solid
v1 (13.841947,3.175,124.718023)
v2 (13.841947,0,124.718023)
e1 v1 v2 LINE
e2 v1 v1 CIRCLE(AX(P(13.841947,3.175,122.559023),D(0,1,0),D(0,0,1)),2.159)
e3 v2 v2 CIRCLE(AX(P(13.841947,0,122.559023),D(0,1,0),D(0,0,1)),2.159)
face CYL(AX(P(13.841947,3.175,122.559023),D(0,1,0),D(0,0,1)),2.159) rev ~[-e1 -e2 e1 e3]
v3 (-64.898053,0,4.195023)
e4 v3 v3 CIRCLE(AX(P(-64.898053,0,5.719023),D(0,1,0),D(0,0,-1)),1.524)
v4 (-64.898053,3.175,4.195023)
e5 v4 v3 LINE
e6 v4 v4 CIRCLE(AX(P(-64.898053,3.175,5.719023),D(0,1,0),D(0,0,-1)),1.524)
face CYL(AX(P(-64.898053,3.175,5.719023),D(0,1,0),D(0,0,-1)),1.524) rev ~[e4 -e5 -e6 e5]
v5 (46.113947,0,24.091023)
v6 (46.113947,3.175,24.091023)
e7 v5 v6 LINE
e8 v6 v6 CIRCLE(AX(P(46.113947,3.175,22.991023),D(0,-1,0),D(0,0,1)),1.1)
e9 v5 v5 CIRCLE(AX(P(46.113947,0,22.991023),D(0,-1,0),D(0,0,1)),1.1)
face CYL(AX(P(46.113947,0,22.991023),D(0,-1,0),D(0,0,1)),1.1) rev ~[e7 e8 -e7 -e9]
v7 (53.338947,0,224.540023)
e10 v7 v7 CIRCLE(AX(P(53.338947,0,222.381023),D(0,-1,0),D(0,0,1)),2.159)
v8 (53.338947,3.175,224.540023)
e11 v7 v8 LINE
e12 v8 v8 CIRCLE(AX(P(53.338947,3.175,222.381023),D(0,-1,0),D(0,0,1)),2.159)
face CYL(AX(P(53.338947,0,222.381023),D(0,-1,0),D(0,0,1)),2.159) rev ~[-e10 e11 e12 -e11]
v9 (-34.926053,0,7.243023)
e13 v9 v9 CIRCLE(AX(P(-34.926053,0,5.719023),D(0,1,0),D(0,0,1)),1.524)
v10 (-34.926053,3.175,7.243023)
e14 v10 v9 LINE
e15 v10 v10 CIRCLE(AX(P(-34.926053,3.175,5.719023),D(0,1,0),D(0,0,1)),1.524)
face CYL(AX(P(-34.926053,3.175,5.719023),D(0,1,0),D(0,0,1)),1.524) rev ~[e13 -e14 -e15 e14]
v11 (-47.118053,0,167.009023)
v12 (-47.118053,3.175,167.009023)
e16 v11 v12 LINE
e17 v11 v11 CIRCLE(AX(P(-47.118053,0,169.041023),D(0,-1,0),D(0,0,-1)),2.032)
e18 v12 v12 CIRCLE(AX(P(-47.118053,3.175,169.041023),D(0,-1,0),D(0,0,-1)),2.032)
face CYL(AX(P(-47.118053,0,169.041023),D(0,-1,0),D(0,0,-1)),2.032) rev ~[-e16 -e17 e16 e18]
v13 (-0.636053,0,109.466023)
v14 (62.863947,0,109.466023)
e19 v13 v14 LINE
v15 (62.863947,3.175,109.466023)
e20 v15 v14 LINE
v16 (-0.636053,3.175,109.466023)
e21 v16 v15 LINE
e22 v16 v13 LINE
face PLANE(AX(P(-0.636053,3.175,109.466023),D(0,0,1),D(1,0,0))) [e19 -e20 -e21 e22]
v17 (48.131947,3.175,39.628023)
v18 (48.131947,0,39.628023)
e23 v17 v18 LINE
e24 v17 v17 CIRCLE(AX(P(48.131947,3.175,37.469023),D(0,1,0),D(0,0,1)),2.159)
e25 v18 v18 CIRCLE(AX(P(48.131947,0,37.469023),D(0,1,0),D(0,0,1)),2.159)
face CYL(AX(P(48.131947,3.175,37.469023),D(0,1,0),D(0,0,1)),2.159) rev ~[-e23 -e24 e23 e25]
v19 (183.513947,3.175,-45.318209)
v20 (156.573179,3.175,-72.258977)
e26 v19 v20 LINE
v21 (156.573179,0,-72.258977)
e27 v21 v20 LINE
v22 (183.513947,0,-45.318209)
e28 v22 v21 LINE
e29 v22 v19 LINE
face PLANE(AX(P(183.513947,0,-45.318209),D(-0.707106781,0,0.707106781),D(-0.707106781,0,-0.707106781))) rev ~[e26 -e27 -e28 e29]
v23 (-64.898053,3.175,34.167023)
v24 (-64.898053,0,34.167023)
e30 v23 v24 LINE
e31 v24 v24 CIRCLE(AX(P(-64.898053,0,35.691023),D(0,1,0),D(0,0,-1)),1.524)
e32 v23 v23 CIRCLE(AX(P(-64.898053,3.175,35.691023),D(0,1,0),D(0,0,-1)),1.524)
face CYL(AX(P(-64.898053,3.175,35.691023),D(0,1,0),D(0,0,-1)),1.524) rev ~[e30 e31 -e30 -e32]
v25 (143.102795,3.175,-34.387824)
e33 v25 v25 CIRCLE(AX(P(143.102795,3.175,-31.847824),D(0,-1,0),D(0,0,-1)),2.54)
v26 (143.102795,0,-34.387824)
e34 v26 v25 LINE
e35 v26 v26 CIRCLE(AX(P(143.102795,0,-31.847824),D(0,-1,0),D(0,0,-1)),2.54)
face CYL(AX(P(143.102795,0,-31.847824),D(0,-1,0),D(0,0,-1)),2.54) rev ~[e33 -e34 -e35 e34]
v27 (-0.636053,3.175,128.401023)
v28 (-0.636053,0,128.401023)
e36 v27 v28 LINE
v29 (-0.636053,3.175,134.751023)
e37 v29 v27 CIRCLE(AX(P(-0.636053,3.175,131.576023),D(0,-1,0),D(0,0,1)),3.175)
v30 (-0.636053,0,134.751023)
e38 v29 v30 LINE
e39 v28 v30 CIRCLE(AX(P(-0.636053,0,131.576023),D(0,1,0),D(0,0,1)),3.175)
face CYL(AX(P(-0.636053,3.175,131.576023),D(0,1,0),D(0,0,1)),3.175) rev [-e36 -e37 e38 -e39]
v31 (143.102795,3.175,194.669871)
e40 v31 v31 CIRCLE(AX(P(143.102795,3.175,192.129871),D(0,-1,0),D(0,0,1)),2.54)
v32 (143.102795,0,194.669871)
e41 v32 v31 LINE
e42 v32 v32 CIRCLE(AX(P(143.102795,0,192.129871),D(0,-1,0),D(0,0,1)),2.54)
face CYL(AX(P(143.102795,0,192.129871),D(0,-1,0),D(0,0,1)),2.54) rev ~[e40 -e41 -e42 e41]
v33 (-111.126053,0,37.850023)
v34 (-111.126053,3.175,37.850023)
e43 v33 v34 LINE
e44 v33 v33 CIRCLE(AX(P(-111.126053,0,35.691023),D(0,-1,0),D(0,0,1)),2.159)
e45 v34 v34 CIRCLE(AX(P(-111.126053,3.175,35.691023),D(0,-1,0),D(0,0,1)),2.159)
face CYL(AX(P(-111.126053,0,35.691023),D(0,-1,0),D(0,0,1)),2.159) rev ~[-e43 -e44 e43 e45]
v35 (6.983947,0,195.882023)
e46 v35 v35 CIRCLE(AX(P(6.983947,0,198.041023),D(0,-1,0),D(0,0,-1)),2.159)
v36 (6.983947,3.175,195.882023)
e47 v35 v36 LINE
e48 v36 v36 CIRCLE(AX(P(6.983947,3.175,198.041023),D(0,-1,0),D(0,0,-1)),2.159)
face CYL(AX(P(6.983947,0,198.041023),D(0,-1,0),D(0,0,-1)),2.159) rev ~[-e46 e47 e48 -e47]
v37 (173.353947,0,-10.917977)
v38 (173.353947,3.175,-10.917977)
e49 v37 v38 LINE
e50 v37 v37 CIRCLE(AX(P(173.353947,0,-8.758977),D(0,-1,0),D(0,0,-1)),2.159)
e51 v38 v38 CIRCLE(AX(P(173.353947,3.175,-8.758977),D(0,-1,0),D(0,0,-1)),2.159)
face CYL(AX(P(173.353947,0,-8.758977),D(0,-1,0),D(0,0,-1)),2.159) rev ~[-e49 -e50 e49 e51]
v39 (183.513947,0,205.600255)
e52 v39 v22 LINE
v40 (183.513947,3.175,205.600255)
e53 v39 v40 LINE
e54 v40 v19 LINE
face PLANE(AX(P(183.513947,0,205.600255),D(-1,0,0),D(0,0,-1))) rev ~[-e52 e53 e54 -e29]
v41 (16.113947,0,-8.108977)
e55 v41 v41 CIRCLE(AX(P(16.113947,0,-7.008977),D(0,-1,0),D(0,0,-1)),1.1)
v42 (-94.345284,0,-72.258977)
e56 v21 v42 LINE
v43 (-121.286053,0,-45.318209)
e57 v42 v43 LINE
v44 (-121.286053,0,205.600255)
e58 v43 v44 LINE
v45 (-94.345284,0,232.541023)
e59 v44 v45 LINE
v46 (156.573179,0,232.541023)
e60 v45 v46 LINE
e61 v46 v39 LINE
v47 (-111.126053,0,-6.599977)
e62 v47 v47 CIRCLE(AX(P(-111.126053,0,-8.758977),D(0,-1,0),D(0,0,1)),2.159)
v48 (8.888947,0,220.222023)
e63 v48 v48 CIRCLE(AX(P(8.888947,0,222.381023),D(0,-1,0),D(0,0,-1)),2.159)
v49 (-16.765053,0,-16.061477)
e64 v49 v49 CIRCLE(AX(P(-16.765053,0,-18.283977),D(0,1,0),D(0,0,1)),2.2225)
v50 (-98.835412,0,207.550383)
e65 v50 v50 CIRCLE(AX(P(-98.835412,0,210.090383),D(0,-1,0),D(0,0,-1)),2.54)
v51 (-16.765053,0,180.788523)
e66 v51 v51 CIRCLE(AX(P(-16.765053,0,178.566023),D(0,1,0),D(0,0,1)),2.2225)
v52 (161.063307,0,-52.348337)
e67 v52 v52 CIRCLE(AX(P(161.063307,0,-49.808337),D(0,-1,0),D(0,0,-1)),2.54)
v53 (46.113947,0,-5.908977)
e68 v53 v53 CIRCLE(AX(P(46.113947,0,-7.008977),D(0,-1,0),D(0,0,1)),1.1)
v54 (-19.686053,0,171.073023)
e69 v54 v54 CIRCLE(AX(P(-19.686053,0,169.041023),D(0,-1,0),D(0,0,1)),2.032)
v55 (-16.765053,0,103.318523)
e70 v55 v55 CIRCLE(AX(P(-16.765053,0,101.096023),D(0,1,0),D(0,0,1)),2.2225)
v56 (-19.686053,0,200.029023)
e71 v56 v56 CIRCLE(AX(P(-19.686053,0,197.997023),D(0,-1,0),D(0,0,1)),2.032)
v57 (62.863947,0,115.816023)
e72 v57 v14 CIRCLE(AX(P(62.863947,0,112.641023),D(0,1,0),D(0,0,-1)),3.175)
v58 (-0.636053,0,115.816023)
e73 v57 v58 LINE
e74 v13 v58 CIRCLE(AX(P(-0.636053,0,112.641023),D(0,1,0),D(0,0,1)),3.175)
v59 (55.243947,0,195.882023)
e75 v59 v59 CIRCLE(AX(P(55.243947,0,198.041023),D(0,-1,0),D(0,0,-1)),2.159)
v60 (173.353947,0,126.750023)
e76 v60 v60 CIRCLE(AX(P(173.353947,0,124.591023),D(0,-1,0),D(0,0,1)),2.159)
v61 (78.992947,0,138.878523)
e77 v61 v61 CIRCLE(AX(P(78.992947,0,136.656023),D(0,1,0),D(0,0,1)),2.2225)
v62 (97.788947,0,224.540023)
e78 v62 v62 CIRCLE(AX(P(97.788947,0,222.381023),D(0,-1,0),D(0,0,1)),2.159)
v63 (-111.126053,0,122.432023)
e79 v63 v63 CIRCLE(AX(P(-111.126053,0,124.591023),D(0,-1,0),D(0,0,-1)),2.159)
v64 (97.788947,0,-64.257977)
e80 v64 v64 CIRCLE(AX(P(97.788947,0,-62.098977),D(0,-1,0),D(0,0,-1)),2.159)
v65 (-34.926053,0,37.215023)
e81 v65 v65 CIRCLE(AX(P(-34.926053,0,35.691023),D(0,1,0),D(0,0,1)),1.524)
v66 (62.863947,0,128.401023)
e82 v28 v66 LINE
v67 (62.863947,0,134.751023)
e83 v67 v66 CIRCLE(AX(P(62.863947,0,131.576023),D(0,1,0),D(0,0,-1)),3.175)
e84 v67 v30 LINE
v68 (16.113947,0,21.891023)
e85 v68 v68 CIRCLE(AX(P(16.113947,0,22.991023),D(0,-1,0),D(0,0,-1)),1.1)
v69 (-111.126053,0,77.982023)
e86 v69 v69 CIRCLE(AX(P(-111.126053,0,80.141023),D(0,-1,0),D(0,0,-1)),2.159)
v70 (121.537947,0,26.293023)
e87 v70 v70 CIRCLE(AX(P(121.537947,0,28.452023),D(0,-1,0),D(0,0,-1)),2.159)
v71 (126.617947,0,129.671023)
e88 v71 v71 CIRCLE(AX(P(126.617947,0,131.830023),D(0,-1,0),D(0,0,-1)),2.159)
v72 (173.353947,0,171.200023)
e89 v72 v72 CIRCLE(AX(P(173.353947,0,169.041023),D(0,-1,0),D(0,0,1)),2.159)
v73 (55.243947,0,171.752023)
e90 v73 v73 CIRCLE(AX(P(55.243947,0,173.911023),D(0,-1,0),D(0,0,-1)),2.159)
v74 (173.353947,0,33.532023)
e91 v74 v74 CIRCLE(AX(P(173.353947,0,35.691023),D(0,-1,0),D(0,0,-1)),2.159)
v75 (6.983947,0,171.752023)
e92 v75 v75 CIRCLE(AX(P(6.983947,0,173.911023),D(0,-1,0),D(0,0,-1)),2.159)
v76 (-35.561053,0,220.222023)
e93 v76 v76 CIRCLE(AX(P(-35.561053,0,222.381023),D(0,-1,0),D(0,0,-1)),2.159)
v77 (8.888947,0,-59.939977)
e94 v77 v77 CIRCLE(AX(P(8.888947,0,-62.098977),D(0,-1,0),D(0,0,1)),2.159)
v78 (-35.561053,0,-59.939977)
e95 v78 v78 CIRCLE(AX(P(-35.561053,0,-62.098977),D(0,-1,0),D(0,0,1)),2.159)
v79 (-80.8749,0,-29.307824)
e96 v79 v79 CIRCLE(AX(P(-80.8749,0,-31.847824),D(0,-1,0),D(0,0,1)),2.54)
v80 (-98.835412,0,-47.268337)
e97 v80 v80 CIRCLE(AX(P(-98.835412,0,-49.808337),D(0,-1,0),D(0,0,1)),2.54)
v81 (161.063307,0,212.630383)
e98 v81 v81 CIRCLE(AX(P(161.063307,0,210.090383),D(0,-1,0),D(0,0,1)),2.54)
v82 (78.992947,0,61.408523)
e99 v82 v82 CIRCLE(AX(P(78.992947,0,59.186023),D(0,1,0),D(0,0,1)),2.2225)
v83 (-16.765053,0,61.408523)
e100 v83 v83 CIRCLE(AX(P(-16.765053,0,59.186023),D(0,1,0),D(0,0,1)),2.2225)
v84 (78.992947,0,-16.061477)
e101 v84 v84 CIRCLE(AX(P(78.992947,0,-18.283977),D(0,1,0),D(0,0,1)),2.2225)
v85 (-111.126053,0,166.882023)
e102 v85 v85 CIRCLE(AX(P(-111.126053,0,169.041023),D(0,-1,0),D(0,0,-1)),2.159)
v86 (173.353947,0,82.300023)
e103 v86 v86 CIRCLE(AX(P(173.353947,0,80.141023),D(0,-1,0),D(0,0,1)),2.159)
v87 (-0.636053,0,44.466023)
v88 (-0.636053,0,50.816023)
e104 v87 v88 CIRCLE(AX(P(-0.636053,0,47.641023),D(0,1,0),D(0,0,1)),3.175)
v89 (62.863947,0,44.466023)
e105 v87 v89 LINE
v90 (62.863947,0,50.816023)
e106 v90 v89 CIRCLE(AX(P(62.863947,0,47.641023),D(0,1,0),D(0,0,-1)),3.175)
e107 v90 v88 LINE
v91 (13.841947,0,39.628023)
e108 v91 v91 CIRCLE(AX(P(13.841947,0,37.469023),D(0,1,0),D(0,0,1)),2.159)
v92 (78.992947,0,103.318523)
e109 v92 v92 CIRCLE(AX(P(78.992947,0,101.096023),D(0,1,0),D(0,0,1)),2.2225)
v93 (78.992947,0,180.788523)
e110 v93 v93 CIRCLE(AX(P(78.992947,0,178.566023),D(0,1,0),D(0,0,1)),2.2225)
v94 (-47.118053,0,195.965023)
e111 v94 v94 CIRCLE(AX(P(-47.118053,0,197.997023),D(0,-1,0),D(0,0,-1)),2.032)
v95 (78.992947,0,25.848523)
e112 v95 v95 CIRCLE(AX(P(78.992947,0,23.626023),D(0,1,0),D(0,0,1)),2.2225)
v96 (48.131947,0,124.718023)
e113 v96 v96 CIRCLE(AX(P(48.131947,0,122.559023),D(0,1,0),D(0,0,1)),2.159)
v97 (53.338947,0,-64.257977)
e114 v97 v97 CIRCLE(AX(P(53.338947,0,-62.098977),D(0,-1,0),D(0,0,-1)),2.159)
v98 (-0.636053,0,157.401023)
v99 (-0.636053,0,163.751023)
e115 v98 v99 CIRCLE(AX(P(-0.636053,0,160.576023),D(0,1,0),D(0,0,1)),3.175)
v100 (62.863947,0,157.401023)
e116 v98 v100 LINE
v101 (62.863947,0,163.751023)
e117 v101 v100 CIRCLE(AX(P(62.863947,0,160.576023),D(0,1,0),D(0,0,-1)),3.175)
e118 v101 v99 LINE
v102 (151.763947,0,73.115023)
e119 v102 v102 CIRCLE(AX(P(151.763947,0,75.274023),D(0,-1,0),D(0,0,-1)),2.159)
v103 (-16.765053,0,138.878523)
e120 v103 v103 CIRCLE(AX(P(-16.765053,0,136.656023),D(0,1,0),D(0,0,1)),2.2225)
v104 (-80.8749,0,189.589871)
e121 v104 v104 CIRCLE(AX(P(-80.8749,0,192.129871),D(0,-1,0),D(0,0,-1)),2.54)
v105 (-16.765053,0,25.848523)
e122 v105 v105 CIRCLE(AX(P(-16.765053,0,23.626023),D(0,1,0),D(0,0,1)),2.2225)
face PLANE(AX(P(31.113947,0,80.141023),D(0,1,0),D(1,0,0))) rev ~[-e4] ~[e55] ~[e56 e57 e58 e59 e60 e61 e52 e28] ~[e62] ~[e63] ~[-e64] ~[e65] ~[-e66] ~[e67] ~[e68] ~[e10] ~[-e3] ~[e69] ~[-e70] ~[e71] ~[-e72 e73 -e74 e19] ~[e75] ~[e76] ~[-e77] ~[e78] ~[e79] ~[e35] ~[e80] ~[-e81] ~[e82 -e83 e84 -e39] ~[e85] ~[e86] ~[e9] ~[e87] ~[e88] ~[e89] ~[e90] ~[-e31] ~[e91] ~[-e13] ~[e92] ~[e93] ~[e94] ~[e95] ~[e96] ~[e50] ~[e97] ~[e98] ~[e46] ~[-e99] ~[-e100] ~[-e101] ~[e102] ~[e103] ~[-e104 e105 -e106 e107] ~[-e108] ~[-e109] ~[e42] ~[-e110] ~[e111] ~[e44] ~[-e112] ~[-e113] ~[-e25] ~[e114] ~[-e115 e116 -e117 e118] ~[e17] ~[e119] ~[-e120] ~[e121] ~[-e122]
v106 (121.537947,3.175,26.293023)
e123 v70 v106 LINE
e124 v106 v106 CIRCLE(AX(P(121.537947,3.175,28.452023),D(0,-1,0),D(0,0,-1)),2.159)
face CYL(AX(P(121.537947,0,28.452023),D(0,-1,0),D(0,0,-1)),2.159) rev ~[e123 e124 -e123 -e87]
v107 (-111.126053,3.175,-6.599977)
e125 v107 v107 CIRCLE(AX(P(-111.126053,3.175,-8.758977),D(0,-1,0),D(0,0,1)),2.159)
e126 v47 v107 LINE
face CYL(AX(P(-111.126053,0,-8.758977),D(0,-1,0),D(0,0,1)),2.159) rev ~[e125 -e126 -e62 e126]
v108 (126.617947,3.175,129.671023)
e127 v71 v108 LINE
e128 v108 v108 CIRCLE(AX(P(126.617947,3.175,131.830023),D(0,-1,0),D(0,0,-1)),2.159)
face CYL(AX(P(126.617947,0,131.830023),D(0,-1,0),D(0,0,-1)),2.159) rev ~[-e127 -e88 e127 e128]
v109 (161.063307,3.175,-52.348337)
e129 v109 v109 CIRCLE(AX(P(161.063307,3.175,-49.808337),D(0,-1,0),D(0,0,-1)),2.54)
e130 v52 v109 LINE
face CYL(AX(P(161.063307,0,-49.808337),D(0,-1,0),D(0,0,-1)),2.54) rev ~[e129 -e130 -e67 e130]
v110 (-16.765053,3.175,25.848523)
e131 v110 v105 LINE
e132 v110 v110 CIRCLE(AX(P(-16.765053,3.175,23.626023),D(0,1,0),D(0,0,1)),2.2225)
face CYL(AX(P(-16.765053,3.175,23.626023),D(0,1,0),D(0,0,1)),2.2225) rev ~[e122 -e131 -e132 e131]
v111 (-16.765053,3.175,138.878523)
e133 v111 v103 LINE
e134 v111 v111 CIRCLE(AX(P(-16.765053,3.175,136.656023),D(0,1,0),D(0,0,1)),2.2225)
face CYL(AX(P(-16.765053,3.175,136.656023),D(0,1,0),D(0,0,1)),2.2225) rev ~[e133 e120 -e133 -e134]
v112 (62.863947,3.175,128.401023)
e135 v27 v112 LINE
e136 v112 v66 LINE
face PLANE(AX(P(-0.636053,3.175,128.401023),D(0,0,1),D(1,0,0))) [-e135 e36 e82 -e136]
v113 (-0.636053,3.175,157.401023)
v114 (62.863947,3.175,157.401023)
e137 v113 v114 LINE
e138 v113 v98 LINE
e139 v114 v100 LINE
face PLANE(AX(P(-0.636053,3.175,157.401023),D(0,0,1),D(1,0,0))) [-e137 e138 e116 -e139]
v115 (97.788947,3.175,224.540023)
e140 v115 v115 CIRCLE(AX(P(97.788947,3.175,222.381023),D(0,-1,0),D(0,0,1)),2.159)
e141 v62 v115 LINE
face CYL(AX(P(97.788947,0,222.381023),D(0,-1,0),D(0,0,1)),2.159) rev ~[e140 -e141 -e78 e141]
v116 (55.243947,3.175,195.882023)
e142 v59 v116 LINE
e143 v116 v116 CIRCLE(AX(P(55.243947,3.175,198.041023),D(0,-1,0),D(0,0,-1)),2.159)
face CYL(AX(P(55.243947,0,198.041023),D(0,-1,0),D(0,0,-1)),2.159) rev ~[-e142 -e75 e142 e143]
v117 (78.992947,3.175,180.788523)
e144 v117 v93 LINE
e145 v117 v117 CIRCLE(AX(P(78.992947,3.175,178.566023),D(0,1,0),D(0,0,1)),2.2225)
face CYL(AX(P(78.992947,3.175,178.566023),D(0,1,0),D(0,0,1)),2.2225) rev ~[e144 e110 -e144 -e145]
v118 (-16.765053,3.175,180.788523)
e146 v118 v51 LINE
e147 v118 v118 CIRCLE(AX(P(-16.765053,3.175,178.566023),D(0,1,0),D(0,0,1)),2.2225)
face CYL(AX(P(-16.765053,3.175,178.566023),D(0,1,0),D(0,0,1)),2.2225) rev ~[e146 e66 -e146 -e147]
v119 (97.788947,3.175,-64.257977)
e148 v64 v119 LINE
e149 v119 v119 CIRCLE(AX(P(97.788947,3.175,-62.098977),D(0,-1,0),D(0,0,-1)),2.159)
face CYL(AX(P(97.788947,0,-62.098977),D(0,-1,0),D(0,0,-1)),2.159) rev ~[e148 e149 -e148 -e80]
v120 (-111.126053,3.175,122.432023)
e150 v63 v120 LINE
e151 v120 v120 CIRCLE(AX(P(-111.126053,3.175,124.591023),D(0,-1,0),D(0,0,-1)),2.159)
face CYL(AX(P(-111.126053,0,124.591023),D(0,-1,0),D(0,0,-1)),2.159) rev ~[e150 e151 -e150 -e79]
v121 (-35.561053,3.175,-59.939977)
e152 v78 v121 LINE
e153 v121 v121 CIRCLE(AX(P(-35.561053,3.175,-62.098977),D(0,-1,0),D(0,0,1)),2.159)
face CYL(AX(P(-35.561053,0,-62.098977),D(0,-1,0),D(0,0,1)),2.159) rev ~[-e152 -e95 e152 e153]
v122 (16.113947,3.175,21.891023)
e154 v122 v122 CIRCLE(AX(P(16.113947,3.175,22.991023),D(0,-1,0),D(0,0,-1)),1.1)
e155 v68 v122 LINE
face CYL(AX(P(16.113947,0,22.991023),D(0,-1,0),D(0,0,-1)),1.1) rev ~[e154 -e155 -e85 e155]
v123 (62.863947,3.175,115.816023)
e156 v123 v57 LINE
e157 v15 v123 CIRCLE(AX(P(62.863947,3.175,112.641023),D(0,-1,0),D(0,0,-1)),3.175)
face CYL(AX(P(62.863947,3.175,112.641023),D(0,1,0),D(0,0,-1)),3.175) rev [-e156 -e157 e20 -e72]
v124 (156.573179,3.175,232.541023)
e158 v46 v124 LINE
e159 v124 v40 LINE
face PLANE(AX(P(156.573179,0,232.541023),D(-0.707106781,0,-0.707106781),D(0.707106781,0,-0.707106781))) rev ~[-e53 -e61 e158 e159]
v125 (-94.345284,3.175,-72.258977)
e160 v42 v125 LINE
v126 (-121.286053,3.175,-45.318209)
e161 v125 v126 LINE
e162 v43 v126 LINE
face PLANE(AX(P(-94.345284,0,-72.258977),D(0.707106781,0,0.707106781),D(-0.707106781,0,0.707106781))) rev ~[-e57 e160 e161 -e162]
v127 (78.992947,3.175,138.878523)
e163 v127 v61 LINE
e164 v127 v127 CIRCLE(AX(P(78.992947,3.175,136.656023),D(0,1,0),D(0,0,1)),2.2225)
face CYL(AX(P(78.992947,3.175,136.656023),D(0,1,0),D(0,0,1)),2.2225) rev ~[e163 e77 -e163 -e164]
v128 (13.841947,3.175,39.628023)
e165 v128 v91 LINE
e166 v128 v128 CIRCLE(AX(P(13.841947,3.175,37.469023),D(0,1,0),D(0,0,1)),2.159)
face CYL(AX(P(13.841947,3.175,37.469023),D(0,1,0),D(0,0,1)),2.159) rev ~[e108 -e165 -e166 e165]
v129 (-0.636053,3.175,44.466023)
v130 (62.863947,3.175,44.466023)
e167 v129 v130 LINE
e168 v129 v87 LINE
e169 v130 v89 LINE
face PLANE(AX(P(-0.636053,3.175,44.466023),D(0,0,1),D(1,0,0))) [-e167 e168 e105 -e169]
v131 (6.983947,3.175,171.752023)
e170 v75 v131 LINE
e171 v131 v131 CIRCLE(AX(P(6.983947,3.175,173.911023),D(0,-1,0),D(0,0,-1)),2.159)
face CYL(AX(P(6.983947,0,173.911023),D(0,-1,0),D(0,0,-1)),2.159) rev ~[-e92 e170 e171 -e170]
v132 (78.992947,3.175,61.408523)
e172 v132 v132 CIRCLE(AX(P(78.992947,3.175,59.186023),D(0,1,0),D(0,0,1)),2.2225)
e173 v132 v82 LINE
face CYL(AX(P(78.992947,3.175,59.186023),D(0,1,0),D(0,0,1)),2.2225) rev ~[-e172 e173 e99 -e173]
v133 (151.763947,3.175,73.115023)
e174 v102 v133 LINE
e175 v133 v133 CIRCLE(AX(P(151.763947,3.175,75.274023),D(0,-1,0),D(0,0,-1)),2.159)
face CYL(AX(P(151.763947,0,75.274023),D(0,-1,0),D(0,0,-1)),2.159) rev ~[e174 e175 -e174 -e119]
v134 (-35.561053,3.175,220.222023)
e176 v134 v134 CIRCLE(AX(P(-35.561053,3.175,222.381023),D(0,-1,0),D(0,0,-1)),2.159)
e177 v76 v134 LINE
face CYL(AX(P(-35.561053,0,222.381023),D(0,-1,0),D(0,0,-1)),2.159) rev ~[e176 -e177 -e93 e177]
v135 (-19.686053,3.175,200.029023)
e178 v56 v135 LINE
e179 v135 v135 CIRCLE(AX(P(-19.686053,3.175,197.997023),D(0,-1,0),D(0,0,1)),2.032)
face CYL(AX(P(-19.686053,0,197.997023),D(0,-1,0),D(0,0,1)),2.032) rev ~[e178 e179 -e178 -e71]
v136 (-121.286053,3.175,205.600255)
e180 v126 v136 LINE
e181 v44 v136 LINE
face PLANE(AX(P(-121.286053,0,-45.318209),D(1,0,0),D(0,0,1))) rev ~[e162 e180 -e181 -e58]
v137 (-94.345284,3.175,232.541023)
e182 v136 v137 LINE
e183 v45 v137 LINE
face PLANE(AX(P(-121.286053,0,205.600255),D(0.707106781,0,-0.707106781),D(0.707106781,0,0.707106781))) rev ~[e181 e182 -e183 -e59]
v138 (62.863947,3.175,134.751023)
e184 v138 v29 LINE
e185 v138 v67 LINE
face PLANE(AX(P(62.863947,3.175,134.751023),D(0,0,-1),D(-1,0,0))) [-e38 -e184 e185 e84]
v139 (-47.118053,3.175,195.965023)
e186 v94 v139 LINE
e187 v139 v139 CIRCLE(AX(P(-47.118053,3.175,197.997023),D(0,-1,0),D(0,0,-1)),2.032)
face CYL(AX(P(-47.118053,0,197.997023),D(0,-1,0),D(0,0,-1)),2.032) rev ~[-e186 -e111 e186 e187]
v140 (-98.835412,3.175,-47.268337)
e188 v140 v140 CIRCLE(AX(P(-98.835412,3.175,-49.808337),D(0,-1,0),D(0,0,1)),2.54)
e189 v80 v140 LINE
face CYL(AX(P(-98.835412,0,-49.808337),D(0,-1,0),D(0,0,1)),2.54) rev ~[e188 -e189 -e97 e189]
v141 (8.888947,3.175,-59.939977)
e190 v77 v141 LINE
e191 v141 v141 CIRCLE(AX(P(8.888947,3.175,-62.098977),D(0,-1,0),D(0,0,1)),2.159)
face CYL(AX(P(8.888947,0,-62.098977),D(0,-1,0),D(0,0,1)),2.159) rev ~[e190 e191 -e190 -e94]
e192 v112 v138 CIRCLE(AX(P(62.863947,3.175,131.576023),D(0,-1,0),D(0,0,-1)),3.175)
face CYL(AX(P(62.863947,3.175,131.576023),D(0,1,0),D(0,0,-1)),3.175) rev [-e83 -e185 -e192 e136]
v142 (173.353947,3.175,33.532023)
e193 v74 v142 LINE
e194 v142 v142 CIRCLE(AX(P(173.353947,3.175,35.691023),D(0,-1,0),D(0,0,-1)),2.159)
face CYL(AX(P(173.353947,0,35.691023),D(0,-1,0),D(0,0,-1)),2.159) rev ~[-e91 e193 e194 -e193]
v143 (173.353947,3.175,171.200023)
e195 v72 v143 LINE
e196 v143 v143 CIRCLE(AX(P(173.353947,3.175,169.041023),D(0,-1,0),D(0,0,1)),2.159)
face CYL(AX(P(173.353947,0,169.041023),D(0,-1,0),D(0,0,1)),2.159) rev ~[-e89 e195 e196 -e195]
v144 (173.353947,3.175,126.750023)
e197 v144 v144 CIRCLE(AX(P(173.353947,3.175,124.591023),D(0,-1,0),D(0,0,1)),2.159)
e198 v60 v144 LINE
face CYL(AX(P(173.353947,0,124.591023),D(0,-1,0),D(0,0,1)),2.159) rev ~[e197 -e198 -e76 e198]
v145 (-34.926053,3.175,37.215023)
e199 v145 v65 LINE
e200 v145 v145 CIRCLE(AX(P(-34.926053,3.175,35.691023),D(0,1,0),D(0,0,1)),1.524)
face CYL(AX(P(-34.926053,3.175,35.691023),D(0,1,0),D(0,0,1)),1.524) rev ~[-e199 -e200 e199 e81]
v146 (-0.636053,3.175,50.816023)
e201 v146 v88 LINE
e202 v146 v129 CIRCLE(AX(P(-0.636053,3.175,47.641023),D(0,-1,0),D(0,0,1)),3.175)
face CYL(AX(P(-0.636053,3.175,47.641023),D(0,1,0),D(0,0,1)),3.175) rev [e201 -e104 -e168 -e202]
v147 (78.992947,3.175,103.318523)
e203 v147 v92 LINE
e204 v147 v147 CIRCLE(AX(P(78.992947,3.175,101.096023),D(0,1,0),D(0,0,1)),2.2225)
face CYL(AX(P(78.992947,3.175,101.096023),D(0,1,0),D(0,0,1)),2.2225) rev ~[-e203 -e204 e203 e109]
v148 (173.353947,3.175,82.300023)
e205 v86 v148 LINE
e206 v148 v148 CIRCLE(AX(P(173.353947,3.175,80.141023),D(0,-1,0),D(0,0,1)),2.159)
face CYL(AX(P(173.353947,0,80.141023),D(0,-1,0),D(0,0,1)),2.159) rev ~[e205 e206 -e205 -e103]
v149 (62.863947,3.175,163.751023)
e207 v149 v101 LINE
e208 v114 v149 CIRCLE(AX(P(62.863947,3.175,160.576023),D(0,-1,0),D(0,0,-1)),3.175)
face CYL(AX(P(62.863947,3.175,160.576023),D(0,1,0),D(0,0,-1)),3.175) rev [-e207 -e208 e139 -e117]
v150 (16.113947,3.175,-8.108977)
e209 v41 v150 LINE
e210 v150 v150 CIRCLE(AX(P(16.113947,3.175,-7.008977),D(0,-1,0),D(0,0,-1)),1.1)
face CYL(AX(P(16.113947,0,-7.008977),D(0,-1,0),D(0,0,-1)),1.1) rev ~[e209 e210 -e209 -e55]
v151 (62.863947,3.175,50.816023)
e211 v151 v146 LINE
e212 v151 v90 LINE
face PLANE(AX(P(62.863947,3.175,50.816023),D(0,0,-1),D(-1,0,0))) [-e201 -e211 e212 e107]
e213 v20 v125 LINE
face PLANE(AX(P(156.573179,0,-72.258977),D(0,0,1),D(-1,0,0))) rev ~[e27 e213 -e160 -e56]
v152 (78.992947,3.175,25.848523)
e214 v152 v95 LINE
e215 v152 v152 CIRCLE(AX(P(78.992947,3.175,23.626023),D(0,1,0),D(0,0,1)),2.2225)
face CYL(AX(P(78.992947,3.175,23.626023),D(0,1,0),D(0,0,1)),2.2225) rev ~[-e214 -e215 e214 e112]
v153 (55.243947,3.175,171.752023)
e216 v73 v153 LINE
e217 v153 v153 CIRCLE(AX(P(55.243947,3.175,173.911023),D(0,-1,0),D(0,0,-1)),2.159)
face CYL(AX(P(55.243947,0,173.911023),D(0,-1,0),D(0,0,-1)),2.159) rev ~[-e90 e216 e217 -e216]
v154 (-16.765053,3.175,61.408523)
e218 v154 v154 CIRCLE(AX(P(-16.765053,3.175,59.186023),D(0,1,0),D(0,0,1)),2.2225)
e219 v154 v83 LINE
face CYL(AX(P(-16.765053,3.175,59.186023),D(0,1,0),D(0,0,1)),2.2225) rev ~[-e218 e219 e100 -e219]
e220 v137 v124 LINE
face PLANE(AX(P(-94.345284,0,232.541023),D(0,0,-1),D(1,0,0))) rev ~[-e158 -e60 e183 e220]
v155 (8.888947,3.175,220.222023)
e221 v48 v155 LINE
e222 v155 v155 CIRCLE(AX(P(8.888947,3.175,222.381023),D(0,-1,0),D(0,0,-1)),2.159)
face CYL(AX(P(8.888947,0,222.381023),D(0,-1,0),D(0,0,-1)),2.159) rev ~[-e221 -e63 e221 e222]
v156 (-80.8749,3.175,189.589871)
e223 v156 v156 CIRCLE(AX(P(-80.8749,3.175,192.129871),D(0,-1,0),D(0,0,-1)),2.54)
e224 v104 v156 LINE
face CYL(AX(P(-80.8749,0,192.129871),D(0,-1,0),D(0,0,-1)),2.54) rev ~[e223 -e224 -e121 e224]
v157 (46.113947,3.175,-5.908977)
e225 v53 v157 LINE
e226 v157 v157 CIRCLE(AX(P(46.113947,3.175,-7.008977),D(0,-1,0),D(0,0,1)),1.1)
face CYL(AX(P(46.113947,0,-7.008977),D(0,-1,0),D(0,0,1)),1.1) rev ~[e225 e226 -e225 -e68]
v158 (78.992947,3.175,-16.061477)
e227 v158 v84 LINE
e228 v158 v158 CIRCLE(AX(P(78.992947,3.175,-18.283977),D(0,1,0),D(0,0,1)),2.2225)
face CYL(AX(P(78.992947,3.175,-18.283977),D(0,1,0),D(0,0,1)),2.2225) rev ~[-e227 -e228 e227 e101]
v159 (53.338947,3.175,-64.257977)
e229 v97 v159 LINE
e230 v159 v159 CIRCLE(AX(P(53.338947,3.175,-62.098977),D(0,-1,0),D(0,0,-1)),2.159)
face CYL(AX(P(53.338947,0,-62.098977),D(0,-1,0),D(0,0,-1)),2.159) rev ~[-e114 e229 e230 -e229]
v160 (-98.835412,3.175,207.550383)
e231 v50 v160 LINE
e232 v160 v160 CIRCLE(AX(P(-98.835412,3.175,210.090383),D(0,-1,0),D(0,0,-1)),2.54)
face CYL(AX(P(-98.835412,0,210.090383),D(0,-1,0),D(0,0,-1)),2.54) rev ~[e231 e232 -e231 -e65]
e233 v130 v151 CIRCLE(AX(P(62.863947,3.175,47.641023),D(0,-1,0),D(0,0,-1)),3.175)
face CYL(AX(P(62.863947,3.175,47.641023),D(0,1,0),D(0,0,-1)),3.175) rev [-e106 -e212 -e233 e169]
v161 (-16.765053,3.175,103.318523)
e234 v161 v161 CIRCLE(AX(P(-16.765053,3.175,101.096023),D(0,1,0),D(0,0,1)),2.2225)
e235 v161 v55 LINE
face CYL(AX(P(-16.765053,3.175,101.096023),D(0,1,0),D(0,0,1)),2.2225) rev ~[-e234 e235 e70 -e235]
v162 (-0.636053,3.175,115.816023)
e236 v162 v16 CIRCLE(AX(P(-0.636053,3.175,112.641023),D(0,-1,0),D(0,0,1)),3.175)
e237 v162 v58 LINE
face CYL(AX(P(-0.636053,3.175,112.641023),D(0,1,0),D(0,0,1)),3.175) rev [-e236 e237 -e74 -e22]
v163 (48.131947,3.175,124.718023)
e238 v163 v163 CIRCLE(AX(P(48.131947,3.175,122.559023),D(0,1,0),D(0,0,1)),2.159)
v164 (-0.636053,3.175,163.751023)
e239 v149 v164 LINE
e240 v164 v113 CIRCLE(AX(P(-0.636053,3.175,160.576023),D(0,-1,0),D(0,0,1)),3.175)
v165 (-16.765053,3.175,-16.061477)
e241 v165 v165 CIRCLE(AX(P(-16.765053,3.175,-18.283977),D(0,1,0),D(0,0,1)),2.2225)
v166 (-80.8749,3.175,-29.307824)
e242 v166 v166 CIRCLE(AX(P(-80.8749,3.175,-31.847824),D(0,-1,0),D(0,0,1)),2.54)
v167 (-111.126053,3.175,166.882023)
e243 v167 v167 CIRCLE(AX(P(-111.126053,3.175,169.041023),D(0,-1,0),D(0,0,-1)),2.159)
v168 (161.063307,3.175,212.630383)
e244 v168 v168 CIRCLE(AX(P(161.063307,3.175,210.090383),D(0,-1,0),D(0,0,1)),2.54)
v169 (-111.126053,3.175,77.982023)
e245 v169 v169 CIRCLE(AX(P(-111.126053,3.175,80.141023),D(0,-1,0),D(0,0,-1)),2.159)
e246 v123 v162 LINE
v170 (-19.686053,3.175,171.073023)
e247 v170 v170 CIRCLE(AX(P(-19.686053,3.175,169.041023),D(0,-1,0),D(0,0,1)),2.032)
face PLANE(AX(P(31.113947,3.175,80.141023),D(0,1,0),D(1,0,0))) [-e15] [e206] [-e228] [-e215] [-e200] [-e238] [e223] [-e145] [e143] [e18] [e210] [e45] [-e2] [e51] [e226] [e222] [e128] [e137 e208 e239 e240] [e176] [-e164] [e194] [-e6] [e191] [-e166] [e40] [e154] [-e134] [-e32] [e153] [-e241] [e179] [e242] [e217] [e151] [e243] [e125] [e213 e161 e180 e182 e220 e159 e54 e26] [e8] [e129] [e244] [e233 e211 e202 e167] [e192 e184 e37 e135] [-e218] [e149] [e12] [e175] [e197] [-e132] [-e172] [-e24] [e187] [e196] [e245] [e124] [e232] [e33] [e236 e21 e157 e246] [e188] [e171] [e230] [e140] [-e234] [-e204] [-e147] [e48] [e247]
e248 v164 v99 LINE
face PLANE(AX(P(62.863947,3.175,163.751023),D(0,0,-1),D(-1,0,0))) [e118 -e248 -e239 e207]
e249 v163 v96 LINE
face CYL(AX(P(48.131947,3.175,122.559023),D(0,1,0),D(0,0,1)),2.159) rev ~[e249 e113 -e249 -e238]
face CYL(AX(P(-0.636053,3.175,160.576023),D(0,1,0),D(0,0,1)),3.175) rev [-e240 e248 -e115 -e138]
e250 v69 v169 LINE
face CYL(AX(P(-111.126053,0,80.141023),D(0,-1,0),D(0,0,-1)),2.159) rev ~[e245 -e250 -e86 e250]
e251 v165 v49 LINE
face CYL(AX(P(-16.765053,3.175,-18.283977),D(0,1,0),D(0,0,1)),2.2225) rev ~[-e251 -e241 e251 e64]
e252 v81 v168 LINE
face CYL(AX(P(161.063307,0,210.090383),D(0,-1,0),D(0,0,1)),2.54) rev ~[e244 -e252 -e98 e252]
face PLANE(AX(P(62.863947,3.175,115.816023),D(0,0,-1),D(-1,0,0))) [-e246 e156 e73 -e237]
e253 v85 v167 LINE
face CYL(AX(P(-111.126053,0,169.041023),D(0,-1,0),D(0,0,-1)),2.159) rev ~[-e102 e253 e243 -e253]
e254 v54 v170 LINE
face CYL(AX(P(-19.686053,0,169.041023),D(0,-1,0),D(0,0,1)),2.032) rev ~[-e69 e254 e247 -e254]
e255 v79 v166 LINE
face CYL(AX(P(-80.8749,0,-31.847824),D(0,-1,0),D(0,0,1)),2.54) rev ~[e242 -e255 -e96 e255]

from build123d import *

# Parameters (mm, degrees)
BOSS_EXTRUDE1_DEPTH = 3.175
SKETCH2_R           = 2.159
CUT_EXTRUDE1_DEPTH  = 297.247830215
CUT_EXTRUDE2_DEPTH  = 297.247830215
SKETCH7_R           = 1.524
CUT_EXTRUDE3_DEPTH  = 297.247830215
SKETCH10_R          = 2.159
CUT_EXTRUDE6_DEPTH  = 297.247830215
SKETCH9_R           = 2.032
CUT_EXTRUDE5_DEPTH  = 297.247830215
SKETCH13_R          = 1.1
CUT_EXTRUDE8_DEPTH  = 297.247830215
SKETCH14_R          = 2.54
CUT_EXTRUDE9_DEPTH  = 297.247830215
SKETCH15_R          = 2.159
CUT_EXTRUDE10_DEPTH = 297.247830215
SKETCH16_R          = 2.159
CUT_EXTRUDE11_DEPTH = 297.247830215
SKETCH17_R          = 2.2225
CUT_EXTRUDE13_DEPTH = 297.247830215


with BuildPart() as part:
    # Sketch1 → Boss-Extrude1 (new body)
    with BuildSketch(Plane(origin=(0, 0, 0), x_dir=(1, 0, 0), z_dir=(0, 1, 0))):
        Polygon((-94.345284264, 72.258976948), (-121.286052627, 45.318208585), (-121.286052627, -205.600254688), (-94.345284264, -232.541023052), (156.573179009, -232.541023052), (183.513947373, -205.600254688), (183.513947373, 45.318208585), (156.573179009, 72.258976948), align=None)
    extrude(amount=BOSS_EXTRUDE1_DEPTH)

    # Sketch2 → Cut-Extrude1 (cut, through all)
    with BuildSketch(Plane(origin=(0, 3.175, 0), x_dir=(1, 0, 0), z_dir=(0, 1, 0))):
        with Locations(Location((13.841947373, -37.469023052, 0), (0, 0, 270))):
            Circle(SKETCH2_R)
        with Locations(Location((48.131947373, -37.469023052, 0), (0, 0, 270))):
            Circle(SKETCH2_R)
        with Locations(Location((13.841947373, -122.559023052, 0), (0, 0, 270))):
            Circle(SKETCH2_R)
        with Locations(Location((48.131947373, -122.559023052, 0), (0, 0, 270))):
            Circle(SKETCH2_R)
    extrude(amount=-CUT_EXTRUDE1_DEPTH, mode=Mode.SUBTRACT)

    # Sketch4 → Cut-Extrude2 (cut, through all)
    with BuildSketch(Plane(origin=(0, 3.175, 0), x_dir=(1, 0, 0), z_dir=(0, 1, 0))):
        with BuildLine():
            Line((-0.636052627, -44.466023052), (62.863947373, -44.466023052))
            ThreePointArc((62.863947373, -44.466023052), (66.038947373, -47.641023052), (62.863947373, -50.816023052))
            Line((62.863947373, -50.816023052), (-0.636052627, -50.816023052))
            ThreePointArc((-0.636052627, -50.816023052), (-3.811052627, -47.641023052), (-0.636052627, -44.466023052))
        make_face()
        with BuildLine():
            Line((-0.636052627, -109.466023052), (62.863947373, -109.466023052))
            ThreePointArc((62.863947373, -109.466023052), (66.038947373, -112.641023052), (62.863947373, -115.816023052))
            Line((62.863947373, -115.816023052), (-0.636052627, -115.816023052))
            ThreePointArc((-0.636052627, -115.816023052), (-3.811052627, -112.641023052), (-0.636052627, -109.466023052))
        make_face()
        with BuildLine():
            Line((-0.636052627, -128.401023052), (62.863947373, -128.401023052))
            ThreePointArc((62.863947373, -128.401023052), (66.038947373, -131.576023052), (62.863947373, -134.751023052))
            Line((62.863947373, -134.751023052), (-0.636052627, -134.751023052))
            ThreePointArc((-0.636052627, -134.751023052), (-3.811052627, -131.576023052), (-0.636052627, -128.401023052))
        make_face()
        with BuildLine():
            Line((-0.636052627, -157.401023052), (62.863947373, -157.401023052))
            ThreePointArc((62.863947373, -157.401023052), (66.038947373, -160.576023052), (62.863947373, -163.751023052))
            Line((62.863947373, -163.751023052), (-0.636052627, -163.751023052))
            ThreePointArc((-0.636052627, -163.751023052), (-3.811052627, -160.576023052), (-0.636052627, -157.401023052))
        make_face()
    extrude(amount=-CUT_EXTRUDE2_DEPTH, mode=Mode.SUBTRACT)

    # Sketch7 → Cut-Extrude3 (cut, through all)
    with BuildSketch(Plane(origin=(0, 3.175, 0), x_dir=(1, 0, 0), z_dir=(0, 1, 0))):
        with Locations(Location((-34.926052627, -5.719023052, 0), (0, 0, 270))):
            Circle(SKETCH7_R)
        with Locations(Location((-34.926052627, -35.691023052, 0), (0, 0, 270))):
            Circle(SKETCH7_R)
        with Locations(Location((-64.898052627, -35.691023052, 0), (0, 0, 90))):
            Circle(SKETCH7_R)
        with Locations(Location((-64.898052627, -5.719023052, 0), (0, 0, 90))):
            Circle(SKETCH7_R)
    extrude(amount=-CUT_EXTRUDE3_DEPTH, mode=Mode.SUBTRACT)

    # Sketch10 → Cut-Extrude6 (cut, through all)
    with BuildSketch(Plane.XZ):
        with Locations(Location((6.983947373, 198.041023052, 0), (0, 0, 270))):
            Circle(SKETCH10_R)
        with Locations(Location((55.243947373, 198.041023052, 0), (0, 0, 270))):
            Circle(SKETCH10_R)
        with Locations(Location((6.983947373, 173.911023052, 0), (0, 0, 270))):
            Circle(SKETCH10_R)
        with Locations(Location((55.243947373, 173.911023052, 0), (0, 0, 270))):
            Circle(SKETCH10_R)
    extrude(amount=-CUT_EXTRUDE6_DEPTH, mode=Mode.SUBTRACT)

    # Sketch9 → Cut-Extrude5 (cut, through all)
    with BuildSketch(Plane(origin=(0, 0, 0), x_dir=(-1, 0, 0), z_dir=(0, -1, 0))):
        with Locations(Location((47.118052627, -197.997023052, 0), (0, 0, 90))):
            Circle(SKETCH9_R)
        with Locations(Location((19.686052627, -197.997023052, 0), (0, 0, 270))):
            Circle(SKETCH9_R)
        with Locations(Location((47.118052627, -169.041023052, 0), (0, 0, 90))):
            Circle(SKETCH9_R)
        with Locations(Location((19.686052627, -169.041023052, 0), (0, 0, 270))):
            Circle(SKETCH9_R)
    extrude(amount=-CUT_EXTRUDE5_DEPTH, mode=Mode.SUBTRACT)

    # Sketch13 → Cut-Extrude8 (cut, through all)
    with BuildSketch(Plane.XZ):
        with Locations(Location((16.113947373, 22.991023052, 0), (0, 0, 270))):
            Circle(SKETCH13_R)
        with Locations(Location((16.113947373, -7.008976948, 0), (0, 0, 270))):
            Circle(SKETCH13_R)
        with Locations(Location((46.113947373, -7.008976948, 0), (0, 0, 90))):
            Circle(SKETCH13_R)
        with Locations(Location((46.113947373, 22.991023052, 0), (0, 0, 90))):
            Circle(SKETCH13_R)
    extrude(amount=-CUT_EXTRUDE8_DEPTH, mode=Mode.SUBTRACT)

    # Sketch14 → Cut-Extrude9 (cut, through all)
    with BuildSketch(Plane.XZ):
        with Locations(Location((-98.835412325, 210.090382749, 0), (0, 0, 270))):
            Circle(SKETCH14_R)
        with Locations(Location((-80.874900083, 192.129870507, 0), (0, 0, 270))):
            Circle(SKETCH14_R)
        with Locations(Location((143.102794828, 192.129870507, 0), (0, 0, 90))):
            Circle(SKETCH14_R)
        with Locations(Location((161.06330707, 210.090382749, 0), (0, 0, 90))):
            Circle(SKETCH14_R)
        with Locations(Location((-98.835412325, -49.808336646, 0), (0, 0, 90))):
            Circle(SKETCH14_R)
        with Locations(Location((-80.874900083, -31.847824404, 0), (0, 0, 90))):
            Circle(SKETCH14_R)
        with Locations(Location((161.06330707, -49.808336646, 0), (0, 0, 270))):
            Circle(SKETCH14_R)
        with Locations(Location((143.102794828, -31.847824404, 0), (0, 0, 270))):
            Circle(SKETCH14_R)
    extrude(amount=-CUT_EXTRUDE9_DEPTH, mode=Mode.SUBTRACT)

    # Sketch15 → Cut-Extrude10 (cut, through all)
    with BuildSketch(Plane.XZ):
        with Locations(Location((8.888947373, 222.381023052, 0), (0, 0, 270))):
            Circle(SKETCH15_R)
        with Locations(Location((-35.561052627, 222.381023052, 0), (0, 0, 270))):
            Circle(SKETCH15_R)
        with Locations(Location((-111.126052627, 80.141023052, 0), (0, 0, 270))):
            Circle(SKETCH15_R)
        with Locations(Location((-111.126052627, 124.591023052, 0), (0, 0, 270))):
            Circle(SKETCH15_R)
        with Locations(Location((-111.126052627, 169.041023052, 0), (0, 0, 270))):
            Circle(SKETCH15_R)
        with Locations(Location((173.353947373, 169.041023052, 0), (0, 0, 90))):
            Circle(SKETCH15_R)
        with Locations(Location((173.353947373, 124.591023052, 0), (0, 0, 90))):
            Circle(SKETCH15_R)
        with Locations(Location((173.353947373, 80.141023052, 0), (0, 0, 90))):
            Circle(SKETCH15_R)
        with Locations(Location((97.788947373, 222.381023052, 0), (0, 0, 90))):
            Circle(SKETCH15_R)
        with Locations(Location((53.338947373, 222.381023052, 0), (0, 0, 90))):
            Circle(SKETCH15_R)
        with Locations(Location((53.338947373, -62.098976948, 0), (0, 0, 270))):
            Circle(SKETCH15_R)
        with Locations(Location((97.788947373, -62.098976948, 0), (0, 0, 270))):
            Circle(SKETCH15_R)
        with Locations(Location((173.353947373, 35.691023052, 0), (0, 0, 270))):
            Circle(SKETCH15_R)
        with Locations(Location((173.353947373, -8.758976948, 0), (0, 0, 270))):
            Circle(SKETCH15_R)
        with Locations(Location((-111.126052627, -8.758976948, 0), (0, 0, 90))):
            Circle(SKETCH15_R)
        with Locations(Location((-111.126052627, 35.691023052, 0), (0, 0, 90))):
            Circle(SKETCH15_R)
        with Locations(Location((-35.561052627, -62.098976948, 0), (0, 0, 90))):
            Circle(SKETCH15_R)
        with Locations(Location((8.888947373, -62.098976948, 0), (0, 0, 90))):
            Circle(SKETCH15_R)
    extrude(amount=-CUT_EXTRUDE10_DEPTH, mode=Mode.SUBTRACT)

    # Sketch16 → Cut-Extrude11 (cut, through all)
    with BuildSketch(Plane(origin=(0, 0, 0), x_dir=(-1, 0, 0), z_dir=(0, -1, 0))):
        with Locations(Location((-126.617947373, -131.830023052, 0), (0, 0, 90))):
            Circle(SKETCH16_R)
        with Locations(Location((-121.537947373, -28.452023052, 0), (0, 0, 90))):
            Circle(SKETCH16_R)
        with Locations(Location((-151.763947373, -75.274023052, 0), (0, 0, 90))):
            Circle(SKETCH16_R)
    extrude(amount=-CUT_EXTRUDE11_DEPTH, mode=Mode.SUBTRACT)

    # Sketch17 → Cut-Extrude13 (cut, through all)
    with BuildSketch(Plane(origin=(0, 3.175, 0), x_dir=(1, 0, 0), z_dir=(0, 1, 0))):
        with Locations(Location((78.992947373, -178.566023052, 0), (0, 0, 270))):
            Circle(SKETCH17_R)
        with Locations(Location((-16.765052627, -178.566023052, 0), (0, 0, 270))):
            Circle(SKETCH17_R)
        with Locations(Location((78.992947373, -136.656023052, 0), (0, 0, 270))):
            Circle(SKETCH17_R)
        with Locations(Location((-16.765052627, -136.656023052, 0), (0, 0, 270))):
            Circle(SKETCH17_R)
        with Locations(Location((78.992947373, -101.096023052, 0), (0, 0, 270))):
            Circle(SKETCH17_R)
        with Locations(Location((-16.765052627, -101.096023052, 0), (0, 0, 270))):
            Circle(SKETCH17_R)
        with Locations(Location((78.992947373, -59.186023052, 0), (0, 0, 270))):
            Circle(SKETCH17_R)
        with Locations(Location((-16.765052627, -59.186023052, 0), (0, 0, 270))):
            Circle(SKETCH17_R)
        with Locations(Location((78.992947373, -23.626023052, 0), (0, 0, 270))):
            Circle(SKETCH17_R)
        with Locations(Location((-16.765052627, -23.626023052, 0), (0, 0, 270))):
            Circle(SKETCH17_R)
        with Locations(Location((78.992947373, 18.283976948, 0), (0, 0, 270))):
            Circle(SKETCH17_R)
        with Locations(Location((-16.765052627, 18.283976948, 0), (0, 0, 270))):
            Circle(SKETCH17_R)
    extrude(amount=-CUT_EXTRUDE13_DEPTH, mode=Mode.SUBTRACT)


solid = part.part
